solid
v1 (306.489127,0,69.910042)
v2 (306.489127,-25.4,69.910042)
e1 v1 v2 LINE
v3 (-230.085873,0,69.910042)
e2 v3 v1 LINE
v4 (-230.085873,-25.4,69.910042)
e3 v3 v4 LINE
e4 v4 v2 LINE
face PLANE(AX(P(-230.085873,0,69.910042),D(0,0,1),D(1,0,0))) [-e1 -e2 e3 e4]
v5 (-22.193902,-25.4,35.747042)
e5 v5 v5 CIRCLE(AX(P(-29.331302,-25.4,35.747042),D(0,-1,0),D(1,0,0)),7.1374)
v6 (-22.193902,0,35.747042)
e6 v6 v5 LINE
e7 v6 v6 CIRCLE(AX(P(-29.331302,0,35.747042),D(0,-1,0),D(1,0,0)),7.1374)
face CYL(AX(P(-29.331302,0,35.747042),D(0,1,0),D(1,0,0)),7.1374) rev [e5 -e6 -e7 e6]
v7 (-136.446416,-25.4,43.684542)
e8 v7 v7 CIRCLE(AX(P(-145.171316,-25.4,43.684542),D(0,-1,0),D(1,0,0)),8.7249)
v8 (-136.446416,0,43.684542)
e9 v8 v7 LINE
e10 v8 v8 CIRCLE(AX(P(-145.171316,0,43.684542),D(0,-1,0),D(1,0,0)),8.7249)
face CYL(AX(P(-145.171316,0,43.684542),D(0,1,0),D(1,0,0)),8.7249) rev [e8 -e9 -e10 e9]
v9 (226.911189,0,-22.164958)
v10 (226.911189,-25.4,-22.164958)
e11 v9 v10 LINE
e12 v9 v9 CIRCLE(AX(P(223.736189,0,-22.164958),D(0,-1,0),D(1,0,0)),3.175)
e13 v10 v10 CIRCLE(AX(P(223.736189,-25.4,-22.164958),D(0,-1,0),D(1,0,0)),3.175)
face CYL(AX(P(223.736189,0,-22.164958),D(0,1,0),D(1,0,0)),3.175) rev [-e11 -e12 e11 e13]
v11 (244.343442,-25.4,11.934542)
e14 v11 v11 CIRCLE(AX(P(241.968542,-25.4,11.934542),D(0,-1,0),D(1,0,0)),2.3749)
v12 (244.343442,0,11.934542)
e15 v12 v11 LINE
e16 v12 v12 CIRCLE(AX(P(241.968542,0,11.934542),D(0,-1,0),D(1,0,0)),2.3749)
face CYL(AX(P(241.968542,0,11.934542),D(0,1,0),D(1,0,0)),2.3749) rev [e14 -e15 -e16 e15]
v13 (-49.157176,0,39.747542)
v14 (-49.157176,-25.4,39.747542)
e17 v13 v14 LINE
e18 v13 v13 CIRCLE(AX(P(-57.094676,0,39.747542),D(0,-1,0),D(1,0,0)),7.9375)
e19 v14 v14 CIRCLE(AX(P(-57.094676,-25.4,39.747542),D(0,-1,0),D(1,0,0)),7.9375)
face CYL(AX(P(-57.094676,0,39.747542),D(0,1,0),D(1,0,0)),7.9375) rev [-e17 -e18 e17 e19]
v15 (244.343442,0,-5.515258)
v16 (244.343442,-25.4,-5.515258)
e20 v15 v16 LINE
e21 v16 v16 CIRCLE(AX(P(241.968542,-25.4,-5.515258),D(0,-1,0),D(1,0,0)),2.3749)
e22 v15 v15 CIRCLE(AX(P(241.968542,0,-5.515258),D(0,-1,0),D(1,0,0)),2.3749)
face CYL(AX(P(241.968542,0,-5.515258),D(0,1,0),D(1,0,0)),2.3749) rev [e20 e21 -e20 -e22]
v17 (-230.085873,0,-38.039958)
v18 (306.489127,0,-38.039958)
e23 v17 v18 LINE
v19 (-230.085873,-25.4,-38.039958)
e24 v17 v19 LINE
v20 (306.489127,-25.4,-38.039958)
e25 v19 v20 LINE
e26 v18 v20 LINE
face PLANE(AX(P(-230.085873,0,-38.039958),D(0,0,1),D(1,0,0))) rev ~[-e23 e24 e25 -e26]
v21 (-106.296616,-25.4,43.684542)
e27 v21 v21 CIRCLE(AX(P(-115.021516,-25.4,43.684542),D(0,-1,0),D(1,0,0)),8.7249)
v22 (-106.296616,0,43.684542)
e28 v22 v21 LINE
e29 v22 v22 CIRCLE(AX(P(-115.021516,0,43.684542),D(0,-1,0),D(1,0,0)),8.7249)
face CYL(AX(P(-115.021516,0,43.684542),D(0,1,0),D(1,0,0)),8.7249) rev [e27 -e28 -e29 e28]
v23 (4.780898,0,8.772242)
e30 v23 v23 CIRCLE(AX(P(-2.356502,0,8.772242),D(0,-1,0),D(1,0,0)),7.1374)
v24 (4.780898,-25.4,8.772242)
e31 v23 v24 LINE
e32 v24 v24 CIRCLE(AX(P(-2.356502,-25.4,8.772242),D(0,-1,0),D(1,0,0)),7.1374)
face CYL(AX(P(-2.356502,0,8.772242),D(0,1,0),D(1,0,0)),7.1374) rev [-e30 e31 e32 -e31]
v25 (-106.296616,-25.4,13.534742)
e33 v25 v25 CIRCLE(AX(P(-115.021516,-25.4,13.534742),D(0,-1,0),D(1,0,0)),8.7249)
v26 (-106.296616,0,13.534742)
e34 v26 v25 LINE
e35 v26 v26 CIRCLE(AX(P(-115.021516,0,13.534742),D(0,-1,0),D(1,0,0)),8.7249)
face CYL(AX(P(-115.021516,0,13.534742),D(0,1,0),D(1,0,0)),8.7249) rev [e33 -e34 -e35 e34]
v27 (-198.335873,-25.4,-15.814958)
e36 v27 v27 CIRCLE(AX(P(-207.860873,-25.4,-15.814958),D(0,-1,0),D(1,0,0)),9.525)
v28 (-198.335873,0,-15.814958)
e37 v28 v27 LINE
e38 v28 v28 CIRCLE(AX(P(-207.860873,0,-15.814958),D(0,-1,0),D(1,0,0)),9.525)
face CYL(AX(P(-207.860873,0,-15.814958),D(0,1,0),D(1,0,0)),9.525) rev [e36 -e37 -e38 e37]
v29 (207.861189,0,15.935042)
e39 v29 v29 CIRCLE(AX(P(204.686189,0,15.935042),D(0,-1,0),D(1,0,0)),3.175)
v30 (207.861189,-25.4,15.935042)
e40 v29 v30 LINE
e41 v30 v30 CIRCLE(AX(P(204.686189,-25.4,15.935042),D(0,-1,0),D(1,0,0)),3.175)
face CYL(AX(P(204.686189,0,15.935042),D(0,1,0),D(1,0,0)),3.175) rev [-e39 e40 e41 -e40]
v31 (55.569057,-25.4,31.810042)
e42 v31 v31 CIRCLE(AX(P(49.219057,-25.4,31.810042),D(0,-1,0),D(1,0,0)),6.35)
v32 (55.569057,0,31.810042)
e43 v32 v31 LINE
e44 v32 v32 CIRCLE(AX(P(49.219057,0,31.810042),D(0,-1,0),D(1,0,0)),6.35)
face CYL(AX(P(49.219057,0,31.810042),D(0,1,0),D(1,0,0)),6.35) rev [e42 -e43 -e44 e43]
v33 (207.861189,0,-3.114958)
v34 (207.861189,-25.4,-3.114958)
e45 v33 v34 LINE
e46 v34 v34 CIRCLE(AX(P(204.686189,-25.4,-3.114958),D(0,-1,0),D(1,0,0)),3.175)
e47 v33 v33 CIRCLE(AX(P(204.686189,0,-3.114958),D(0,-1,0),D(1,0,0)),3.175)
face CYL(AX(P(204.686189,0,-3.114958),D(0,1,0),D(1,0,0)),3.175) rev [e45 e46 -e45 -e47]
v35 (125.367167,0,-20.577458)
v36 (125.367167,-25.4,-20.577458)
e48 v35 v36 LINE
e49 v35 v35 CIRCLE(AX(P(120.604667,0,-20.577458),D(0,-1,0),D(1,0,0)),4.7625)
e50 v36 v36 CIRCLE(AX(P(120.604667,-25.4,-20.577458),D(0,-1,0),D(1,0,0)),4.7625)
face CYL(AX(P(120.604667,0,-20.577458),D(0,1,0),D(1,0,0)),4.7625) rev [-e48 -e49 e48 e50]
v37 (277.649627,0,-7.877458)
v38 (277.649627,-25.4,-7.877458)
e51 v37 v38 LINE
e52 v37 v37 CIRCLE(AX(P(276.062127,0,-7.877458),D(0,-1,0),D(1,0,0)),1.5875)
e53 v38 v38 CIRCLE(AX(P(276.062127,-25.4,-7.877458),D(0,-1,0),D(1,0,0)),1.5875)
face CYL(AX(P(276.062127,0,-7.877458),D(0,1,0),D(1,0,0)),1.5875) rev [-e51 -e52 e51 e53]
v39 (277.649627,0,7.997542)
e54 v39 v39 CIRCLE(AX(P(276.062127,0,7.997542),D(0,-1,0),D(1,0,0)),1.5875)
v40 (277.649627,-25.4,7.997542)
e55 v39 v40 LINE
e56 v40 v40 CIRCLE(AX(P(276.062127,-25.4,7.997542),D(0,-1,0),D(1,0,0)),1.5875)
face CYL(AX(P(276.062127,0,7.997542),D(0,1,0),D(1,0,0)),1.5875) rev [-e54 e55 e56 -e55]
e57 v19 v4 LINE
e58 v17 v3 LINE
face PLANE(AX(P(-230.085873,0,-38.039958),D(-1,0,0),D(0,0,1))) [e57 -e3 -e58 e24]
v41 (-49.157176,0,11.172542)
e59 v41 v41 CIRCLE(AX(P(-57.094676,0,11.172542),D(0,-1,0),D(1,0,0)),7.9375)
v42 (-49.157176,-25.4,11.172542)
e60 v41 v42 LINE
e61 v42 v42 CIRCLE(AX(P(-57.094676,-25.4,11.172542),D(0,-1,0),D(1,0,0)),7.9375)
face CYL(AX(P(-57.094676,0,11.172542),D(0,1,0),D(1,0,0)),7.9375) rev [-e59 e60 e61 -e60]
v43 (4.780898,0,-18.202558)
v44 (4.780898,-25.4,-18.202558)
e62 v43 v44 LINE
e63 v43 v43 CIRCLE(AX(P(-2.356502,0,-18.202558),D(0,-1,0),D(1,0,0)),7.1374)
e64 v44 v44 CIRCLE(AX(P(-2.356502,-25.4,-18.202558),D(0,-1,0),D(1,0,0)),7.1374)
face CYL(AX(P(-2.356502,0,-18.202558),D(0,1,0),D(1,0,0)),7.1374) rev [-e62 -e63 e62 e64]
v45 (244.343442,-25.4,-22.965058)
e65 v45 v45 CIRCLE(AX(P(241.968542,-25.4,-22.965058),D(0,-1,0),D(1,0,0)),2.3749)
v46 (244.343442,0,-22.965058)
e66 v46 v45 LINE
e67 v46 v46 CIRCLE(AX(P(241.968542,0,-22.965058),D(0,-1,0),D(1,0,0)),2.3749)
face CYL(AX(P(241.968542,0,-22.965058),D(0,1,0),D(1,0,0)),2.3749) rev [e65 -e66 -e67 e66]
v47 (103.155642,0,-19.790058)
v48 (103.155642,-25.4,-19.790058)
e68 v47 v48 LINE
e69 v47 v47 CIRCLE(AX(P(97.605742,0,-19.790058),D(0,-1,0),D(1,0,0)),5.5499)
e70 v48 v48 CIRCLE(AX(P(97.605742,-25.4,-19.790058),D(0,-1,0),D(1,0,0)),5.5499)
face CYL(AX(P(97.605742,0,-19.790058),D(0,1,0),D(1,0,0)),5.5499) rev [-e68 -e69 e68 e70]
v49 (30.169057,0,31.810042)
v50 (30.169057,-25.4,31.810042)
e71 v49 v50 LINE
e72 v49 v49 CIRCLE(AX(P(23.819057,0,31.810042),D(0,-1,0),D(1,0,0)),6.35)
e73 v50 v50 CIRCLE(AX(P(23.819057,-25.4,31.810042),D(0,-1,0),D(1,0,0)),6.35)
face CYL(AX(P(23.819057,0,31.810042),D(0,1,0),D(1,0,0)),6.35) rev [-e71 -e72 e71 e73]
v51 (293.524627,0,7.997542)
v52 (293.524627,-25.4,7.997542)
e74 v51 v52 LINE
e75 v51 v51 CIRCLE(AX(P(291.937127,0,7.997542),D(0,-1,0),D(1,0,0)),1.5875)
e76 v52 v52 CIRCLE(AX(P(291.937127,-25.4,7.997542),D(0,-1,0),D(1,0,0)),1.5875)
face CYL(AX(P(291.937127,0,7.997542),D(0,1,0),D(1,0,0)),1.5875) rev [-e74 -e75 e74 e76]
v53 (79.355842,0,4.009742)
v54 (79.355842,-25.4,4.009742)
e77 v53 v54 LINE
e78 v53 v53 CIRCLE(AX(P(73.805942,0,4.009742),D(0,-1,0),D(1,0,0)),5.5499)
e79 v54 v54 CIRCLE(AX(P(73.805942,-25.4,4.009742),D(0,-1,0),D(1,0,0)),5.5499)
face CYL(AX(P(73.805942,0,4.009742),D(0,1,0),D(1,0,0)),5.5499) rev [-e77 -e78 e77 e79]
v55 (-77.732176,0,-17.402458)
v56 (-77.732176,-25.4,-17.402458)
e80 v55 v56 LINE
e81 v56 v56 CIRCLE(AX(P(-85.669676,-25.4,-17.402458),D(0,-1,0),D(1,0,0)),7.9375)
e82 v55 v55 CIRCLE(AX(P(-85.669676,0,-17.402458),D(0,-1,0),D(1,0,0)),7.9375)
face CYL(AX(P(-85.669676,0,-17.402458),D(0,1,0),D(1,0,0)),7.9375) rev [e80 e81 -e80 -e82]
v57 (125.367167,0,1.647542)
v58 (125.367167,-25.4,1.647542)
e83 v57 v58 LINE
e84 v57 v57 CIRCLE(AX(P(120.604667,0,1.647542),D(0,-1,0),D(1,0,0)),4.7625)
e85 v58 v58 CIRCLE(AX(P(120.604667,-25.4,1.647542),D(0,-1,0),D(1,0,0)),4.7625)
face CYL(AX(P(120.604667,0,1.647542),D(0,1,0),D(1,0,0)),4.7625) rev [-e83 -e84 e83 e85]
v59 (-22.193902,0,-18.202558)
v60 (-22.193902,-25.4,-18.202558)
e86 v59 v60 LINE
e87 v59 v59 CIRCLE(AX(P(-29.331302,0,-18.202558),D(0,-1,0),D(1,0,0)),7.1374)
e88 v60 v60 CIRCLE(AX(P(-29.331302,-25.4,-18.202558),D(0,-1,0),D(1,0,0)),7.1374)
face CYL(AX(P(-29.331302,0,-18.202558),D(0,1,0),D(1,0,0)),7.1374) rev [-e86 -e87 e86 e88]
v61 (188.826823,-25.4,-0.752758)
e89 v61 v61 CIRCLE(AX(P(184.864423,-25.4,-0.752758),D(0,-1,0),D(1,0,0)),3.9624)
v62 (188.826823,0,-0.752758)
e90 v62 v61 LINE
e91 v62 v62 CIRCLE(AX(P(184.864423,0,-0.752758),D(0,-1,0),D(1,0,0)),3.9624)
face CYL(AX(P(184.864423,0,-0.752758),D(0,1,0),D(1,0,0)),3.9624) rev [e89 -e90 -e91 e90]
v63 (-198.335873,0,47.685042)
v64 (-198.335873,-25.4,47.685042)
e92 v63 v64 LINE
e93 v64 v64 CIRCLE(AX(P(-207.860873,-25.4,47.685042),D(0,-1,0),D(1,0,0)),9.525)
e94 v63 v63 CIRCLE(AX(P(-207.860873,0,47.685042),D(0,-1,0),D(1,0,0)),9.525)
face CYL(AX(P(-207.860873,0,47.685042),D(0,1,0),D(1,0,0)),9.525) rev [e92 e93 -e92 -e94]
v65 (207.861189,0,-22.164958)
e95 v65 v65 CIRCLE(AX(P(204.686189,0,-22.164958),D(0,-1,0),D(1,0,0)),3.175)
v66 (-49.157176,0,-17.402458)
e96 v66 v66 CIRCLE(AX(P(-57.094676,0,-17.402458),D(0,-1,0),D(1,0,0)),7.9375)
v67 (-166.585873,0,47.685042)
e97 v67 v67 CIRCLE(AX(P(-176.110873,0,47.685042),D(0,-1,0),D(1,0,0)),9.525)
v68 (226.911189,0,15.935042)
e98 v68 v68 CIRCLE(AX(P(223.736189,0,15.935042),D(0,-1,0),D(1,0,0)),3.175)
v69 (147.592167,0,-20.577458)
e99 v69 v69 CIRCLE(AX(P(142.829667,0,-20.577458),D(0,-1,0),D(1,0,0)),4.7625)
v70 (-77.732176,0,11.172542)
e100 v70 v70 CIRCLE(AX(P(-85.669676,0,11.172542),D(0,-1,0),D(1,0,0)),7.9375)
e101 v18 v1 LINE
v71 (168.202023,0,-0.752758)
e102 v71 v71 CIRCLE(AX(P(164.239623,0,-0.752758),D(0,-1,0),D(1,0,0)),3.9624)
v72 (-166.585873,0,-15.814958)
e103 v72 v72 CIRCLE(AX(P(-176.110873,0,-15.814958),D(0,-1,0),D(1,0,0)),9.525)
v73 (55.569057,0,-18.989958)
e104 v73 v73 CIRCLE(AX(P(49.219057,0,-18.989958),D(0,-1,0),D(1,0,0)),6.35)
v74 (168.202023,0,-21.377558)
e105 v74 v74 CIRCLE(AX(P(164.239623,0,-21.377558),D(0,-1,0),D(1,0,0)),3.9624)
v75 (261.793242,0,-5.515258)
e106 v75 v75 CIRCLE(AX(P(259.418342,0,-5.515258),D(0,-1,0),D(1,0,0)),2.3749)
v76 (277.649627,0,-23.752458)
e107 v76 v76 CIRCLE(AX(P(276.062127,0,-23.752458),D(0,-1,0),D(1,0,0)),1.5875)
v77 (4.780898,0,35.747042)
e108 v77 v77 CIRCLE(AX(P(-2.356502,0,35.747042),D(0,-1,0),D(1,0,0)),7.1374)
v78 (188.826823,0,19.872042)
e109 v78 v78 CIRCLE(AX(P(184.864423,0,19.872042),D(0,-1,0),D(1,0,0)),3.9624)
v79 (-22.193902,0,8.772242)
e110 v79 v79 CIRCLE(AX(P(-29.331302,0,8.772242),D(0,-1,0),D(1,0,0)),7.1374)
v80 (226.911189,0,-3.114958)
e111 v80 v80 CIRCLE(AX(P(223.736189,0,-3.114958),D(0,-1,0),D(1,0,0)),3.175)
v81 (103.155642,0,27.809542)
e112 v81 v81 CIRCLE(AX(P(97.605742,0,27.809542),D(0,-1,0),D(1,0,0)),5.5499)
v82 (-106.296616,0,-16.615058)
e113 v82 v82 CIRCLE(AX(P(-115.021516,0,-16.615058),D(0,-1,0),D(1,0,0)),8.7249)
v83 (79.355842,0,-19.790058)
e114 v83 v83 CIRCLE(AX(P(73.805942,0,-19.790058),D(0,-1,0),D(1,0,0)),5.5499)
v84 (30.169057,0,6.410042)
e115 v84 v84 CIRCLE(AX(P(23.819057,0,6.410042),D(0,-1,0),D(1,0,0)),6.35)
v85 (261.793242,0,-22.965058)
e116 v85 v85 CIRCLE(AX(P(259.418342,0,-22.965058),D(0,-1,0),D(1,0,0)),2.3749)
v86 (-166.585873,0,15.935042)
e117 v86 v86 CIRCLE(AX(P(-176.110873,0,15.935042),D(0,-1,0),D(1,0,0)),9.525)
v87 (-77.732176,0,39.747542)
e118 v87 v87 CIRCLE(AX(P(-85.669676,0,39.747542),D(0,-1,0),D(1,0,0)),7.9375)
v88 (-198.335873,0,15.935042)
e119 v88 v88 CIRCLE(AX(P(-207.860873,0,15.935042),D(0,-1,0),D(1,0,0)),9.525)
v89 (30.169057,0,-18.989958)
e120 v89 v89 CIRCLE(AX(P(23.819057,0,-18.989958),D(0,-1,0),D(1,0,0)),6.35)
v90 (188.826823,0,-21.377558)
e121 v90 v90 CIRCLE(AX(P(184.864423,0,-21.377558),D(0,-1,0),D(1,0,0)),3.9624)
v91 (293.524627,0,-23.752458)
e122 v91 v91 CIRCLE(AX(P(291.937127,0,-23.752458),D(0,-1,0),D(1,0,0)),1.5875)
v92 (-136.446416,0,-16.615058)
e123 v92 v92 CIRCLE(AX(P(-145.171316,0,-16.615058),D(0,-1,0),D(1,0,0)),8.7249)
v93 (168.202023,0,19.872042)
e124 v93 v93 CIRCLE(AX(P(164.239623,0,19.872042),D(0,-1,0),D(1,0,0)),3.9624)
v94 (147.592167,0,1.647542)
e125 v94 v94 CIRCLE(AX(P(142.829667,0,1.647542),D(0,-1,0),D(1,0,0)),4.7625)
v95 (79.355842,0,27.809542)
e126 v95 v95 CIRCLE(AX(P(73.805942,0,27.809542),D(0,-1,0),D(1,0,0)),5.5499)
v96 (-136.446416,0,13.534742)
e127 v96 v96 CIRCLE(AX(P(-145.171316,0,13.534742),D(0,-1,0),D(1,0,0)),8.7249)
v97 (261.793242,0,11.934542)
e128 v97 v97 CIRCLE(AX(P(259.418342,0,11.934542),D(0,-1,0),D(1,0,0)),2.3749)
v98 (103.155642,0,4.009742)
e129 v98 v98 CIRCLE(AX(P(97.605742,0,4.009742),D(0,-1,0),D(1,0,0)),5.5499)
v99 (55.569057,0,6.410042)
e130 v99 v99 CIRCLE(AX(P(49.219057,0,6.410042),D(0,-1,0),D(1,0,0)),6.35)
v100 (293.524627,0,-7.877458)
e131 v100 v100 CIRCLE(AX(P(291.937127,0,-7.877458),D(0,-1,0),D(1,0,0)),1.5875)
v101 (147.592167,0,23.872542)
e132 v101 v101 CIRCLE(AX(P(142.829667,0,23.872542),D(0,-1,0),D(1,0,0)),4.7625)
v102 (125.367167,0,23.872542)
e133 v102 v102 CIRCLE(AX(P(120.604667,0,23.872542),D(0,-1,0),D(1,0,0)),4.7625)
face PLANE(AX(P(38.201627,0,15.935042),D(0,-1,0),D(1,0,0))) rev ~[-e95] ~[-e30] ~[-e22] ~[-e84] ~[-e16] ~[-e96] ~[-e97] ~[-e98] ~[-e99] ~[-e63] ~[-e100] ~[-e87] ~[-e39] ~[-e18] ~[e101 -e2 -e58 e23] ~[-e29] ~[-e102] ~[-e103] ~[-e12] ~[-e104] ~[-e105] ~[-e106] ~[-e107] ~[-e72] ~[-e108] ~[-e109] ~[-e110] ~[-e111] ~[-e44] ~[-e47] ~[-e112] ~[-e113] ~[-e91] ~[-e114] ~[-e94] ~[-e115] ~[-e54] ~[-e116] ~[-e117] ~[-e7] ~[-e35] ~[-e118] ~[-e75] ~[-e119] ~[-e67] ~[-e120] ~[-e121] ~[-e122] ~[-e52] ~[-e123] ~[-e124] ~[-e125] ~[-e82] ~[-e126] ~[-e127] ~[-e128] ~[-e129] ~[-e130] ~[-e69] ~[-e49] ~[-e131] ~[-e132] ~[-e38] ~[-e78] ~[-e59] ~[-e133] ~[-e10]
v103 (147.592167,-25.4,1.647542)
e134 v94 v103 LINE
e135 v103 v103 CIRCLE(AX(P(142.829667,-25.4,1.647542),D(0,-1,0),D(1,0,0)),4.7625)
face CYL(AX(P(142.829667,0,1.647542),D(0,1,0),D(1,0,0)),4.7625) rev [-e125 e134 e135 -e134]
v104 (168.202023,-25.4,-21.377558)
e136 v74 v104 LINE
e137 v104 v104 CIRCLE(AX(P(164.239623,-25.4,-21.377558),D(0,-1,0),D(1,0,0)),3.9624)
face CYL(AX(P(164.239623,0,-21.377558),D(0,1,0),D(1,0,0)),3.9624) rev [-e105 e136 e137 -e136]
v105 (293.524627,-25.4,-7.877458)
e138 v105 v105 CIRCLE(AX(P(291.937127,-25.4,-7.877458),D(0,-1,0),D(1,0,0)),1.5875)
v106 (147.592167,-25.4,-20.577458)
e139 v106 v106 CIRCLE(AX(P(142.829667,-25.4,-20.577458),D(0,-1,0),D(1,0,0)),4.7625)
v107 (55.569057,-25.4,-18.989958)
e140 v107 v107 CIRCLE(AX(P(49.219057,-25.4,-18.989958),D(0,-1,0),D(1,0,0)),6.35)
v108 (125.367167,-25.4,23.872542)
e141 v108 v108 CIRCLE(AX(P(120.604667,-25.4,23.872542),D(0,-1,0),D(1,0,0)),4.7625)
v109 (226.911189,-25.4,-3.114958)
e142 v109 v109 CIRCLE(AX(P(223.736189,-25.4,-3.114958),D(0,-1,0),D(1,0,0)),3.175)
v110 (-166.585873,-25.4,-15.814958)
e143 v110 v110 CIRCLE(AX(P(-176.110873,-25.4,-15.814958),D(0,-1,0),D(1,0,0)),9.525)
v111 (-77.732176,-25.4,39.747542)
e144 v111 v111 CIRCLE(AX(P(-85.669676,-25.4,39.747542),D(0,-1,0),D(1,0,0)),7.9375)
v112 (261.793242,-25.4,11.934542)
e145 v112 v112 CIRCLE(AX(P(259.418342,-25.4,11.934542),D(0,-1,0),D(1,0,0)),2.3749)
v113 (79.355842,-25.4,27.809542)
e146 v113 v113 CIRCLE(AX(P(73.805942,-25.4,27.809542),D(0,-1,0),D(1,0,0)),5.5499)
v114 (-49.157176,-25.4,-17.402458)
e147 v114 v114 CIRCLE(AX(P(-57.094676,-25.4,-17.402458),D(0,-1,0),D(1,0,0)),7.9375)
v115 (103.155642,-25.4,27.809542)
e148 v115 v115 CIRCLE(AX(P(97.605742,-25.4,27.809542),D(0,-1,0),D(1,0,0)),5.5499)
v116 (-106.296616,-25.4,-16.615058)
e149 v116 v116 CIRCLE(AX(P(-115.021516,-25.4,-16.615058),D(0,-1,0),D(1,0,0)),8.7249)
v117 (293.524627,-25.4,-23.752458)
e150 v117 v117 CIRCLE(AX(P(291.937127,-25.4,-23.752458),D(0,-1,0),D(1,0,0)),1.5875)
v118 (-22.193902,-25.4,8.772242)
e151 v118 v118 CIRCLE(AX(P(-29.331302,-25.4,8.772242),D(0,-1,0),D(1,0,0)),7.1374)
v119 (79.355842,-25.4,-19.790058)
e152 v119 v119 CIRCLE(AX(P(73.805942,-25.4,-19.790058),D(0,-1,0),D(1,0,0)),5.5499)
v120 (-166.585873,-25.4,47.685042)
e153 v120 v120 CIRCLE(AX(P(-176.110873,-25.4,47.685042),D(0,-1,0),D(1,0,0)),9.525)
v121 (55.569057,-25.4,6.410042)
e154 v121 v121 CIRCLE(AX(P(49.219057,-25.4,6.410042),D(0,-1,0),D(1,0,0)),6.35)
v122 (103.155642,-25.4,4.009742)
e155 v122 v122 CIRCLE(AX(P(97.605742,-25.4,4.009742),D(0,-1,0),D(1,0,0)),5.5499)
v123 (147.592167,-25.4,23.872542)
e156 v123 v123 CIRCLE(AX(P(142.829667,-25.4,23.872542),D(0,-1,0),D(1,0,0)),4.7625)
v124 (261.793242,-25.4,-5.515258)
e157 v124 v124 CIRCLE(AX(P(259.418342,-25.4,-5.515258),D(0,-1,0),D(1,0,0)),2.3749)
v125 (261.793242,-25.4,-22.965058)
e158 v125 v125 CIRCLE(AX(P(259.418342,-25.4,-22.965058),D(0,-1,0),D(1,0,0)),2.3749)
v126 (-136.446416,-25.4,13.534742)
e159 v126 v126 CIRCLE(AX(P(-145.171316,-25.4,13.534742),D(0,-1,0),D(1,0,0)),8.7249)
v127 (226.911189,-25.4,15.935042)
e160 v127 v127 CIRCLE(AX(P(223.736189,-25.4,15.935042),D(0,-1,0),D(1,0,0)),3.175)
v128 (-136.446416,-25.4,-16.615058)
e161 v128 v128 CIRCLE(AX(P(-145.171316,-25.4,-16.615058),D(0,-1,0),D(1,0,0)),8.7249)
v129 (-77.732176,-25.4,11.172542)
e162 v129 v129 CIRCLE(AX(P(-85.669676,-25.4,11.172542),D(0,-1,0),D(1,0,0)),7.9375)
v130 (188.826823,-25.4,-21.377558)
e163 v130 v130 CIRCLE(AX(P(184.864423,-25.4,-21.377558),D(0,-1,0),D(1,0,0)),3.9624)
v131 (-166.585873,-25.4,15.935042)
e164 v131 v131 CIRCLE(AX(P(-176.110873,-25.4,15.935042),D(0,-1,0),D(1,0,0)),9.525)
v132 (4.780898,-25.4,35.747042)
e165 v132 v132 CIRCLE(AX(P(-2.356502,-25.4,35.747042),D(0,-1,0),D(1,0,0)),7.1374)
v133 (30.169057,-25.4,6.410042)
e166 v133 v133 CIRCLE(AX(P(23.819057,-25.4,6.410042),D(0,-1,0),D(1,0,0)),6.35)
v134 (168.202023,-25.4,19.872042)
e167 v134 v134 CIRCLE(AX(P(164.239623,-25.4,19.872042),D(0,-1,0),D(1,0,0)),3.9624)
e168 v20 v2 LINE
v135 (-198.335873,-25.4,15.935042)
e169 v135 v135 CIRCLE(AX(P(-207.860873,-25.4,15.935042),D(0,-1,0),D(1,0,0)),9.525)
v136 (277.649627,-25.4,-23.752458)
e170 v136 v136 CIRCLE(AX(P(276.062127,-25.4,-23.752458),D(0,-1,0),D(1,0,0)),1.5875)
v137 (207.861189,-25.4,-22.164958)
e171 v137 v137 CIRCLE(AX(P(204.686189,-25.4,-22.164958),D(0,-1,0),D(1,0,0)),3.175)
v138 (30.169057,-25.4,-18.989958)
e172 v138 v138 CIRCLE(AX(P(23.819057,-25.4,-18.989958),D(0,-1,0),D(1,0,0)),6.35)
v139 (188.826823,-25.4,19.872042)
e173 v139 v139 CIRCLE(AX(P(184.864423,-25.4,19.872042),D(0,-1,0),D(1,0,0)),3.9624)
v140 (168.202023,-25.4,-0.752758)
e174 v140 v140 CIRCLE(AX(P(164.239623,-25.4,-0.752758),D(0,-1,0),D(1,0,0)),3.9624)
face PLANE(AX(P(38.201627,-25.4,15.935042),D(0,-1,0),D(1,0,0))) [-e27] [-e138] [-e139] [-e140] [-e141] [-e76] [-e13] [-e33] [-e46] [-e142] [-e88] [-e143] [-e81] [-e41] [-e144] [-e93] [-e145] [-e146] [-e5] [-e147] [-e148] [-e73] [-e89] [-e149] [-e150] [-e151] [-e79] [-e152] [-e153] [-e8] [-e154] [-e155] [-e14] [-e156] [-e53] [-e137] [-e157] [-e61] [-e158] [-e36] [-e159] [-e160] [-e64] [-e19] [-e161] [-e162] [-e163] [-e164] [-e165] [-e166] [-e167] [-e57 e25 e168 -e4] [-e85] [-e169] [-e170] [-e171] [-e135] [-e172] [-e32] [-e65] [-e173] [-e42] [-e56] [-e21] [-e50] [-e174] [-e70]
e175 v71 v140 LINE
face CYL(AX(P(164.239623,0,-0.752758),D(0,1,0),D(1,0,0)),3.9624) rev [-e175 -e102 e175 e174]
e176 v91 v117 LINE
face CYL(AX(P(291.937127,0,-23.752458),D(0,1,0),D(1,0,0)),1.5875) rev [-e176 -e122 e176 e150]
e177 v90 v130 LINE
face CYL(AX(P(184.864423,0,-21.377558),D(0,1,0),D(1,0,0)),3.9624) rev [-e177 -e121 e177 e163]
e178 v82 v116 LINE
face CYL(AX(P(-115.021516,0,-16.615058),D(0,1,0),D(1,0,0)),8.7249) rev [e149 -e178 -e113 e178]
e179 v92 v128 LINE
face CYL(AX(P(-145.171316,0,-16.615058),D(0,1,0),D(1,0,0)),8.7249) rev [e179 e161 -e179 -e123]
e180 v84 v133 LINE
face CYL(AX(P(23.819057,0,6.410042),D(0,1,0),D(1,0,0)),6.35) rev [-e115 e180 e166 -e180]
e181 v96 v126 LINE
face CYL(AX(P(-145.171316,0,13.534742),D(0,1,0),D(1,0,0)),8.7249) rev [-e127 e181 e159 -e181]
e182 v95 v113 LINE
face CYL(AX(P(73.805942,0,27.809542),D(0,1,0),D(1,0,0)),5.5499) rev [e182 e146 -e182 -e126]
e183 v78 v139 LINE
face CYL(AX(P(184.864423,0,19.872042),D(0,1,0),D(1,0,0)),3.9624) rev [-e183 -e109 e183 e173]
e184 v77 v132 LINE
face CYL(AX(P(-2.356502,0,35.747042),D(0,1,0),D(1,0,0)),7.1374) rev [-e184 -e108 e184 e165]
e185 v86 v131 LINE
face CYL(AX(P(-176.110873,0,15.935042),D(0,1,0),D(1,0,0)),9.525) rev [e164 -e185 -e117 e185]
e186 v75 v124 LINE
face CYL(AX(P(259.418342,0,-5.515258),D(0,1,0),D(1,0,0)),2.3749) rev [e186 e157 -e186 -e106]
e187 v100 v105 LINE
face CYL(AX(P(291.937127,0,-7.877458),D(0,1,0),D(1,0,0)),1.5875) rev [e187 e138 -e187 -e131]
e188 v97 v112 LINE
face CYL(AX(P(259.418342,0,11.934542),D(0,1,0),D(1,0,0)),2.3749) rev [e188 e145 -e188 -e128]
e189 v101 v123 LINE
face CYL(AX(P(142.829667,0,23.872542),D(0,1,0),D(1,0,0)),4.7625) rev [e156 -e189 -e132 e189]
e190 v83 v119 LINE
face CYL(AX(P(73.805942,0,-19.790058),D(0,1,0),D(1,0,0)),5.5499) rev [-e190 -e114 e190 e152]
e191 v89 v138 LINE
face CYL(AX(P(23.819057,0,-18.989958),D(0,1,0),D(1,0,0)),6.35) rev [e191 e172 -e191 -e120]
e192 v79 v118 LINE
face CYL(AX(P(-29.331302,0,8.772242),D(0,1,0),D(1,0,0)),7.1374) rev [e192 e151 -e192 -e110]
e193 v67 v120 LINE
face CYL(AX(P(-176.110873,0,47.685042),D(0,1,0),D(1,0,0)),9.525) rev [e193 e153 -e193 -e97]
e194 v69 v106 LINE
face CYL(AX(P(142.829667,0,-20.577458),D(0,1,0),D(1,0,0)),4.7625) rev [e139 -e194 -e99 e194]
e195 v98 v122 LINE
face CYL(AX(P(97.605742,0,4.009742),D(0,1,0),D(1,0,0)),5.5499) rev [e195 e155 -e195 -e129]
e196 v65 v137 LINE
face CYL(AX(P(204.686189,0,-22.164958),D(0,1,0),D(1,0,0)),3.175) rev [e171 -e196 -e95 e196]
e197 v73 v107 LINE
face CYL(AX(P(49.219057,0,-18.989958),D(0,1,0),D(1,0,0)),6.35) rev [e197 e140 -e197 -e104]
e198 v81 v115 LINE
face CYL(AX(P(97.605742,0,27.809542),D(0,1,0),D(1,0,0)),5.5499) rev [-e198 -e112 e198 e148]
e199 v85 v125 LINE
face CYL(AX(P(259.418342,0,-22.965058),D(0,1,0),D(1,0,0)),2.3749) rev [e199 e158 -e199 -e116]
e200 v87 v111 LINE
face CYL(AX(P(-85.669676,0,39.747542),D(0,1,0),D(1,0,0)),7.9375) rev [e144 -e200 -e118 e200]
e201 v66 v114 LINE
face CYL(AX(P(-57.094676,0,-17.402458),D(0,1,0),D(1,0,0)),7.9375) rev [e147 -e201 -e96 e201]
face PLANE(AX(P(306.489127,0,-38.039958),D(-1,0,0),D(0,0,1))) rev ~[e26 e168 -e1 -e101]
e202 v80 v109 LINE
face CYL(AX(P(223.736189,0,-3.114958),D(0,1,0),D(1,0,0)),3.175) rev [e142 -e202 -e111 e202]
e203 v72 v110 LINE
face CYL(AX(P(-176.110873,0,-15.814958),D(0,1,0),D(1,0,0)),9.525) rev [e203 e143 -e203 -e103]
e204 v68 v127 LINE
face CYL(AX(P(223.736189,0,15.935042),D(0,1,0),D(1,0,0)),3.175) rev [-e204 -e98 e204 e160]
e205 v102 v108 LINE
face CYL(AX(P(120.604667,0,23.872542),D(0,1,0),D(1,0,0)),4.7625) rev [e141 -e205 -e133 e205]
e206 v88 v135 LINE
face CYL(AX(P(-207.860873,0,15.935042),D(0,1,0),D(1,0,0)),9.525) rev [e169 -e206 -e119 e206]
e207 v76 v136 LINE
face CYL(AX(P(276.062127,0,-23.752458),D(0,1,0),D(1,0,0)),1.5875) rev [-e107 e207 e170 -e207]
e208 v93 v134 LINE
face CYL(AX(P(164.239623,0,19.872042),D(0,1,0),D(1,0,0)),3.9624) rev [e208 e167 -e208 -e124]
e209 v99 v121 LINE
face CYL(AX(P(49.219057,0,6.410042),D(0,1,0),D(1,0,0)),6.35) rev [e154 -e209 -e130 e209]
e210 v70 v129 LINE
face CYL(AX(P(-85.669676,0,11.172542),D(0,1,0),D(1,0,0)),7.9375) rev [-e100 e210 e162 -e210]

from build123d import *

# Parameters (mm, degrees)
F0_W     = 536.575
F0_H     = 107.95
F0_R     = 9.525
F0_R_2   = 8.7249
F0_R_3   = 7.1374
F0_R_4   = 7.9375
F0_R_5   = 6.35
F0_R_6   = 5.5499
F0_R_7   = 4.7625
F0_R_8   = 3.9624
F0_R_9   = 3.175
F0_R_10  = 2.3749
F0_R_11  = 1.5875
F1_DEPTH = 25.4


with BuildPart() as f1:
    # F0 (on Front) → F1 (new body)
    with BuildSketch(Plane.XZ):
        with Locations((38.201627, 15.935042)):
            Rectangle(F0_W, F0_H)
        with Locations((-207.860873, -15.814958)):
            Circle(F0_R, mode=Mode.SUBTRACT)
        with Locations((-176.110873, -15.814958)):
            Circle(F0_R, mode=Mode.SUBTRACT)
        with Locations((-145.171316, -16.615058)):
            Circle(F0_R_2, mode=Mode.SUBTRACT)
        with Locations((-115.021516, -16.615058)):
            Circle(F0_R_2, mode=Mode.SUBTRACT)
        with Locations((-29.331302, -18.202558)):
            Circle(F0_R_3, mode=Mode.SUBTRACT)
        with Locations((-85.669676, -17.402458)):
            Circle(F0_R_4, mode=Mode.SUBTRACT)
        with Locations((-57.094676, -17.402458)):
            Circle(F0_R_4, mode=Mode.SUBTRACT)
        with Locations((-2.356502, -18.202558)):
            Circle(F0_R_3, mode=Mode.SUBTRACT)
        with Locations((23.819057, -18.989958)):
            Circle(F0_R_5, mode=Mode.SUBTRACT)
        with Locations((-207.860873, 15.935042)):
            Circle(F0_R, mode=Mode.SUBTRACT)
        with Locations((-176.110873, 15.935042)):
            Circle(F0_R, mode=Mode.SUBTRACT)
        with Locations((-145.171316, 13.534742)):
            Circle(F0_R_2, mode=Mode.SUBTRACT)
        with Locations((-115.021516, 13.534742)):
            Circle(F0_R_2, mode=Mode.SUBTRACT)
        with Locations((-29.331302, 8.772242)):
            Circle(F0_R_3, mode=Mode.SUBTRACT)
        with Locations((-85.669676, 11.172542)):
            Circle(F0_R_4, mode=Mode.SUBTRACT)
        with Locations((-57.094676, 11.172542)):
            Circle(F0_R_4, mode=Mode.SUBTRACT)
        with Locations((-2.356502, 8.772242)):
            Circle(F0_R_3, mode=Mode.SUBTRACT)
        with Locations((23.819057, 6.410042)):
            Circle(F0_R_5, mode=Mode.SUBTRACT)
        with Locations((49.219057, -18.989958)):
            Circle(F0_R_5, mode=Mode.SUBTRACT)
        with Locations((73.805942, -19.790058)):
            Circle(F0_R_6, mode=Mode.SUBTRACT)
        with Locations((97.605742, -19.790058)):
            Circle(F0_R_6, mode=Mode.SUBTRACT)
        with Locations((120.604667, -20.577458)):
            Circle(F0_R_7, mode=Mode.SUBTRACT)
        with Locations((164.239623, -21.377558)):
            Circle(F0_R_8, mode=Mode.SUBTRACT)
        with Locations((142.829667, -20.577458)):
            Circle(F0_R_7, mode=Mode.SUBTRACT)
        with Locations((184.864423, -21.377558)):
            Circle(F0_R_8, mode=Mode.SUBTRACT)
        with Locations((204.686189, -22.164958)):
            Circle(F0_R_9, mode=Mode.SUBTRACT)
        with Locations((223.736189, -22.164958)):
            Circle(F0_R_9, mode=Mode.SUBTRACT)
        with Locations((241.968542, -22.965058)):
            Circle(F0_R_10, mode=Mode.SUBTRACT)
        with Locations((259.418342, -22.965058)):
            Circle(F0_R_10, mode=Mode.SUBTRACT)
        with Locations((276.062127, -23.752458)):
            Circle(F0_R_11, mode=Mode.SUBTRACT)
        with Locations((291.937127, -23.752458)):
            Circle(F0_R_11, mode=Mode.SUBTRACT)
        with Locations((120.604667, 1.647542)):
            Circle(F0_R_7, mode=Mode.SUBTRACT)
        with Locations((142.829667, 1.647542)):
            Circle(F0_R_7, mode=Mode.SUBTRACT)
        with Locations((164.239623, -0.752758)):
            Circle(F0_R_8, mode=Mode.SUBTRACT)
        with Locations((49.219057, 6.410042)):
            Circle(F0_R_5, mode=Mode.SUBTRACT)
        with Locations((73.805942, 4.009742)):
            Circle(F0_R_6, mode=Mode.SUBTRACT)
        with Locations((97.605742, 4.009742)):
            Circle(F0_R_6, mode=Mode.SUBTRACT)
        with Locations((204.686189, -3.114958)):
            Circle(F0_R_9, mode=Mode.SUBTRACT)
        with Locations((184.864423, -0.752758)):
            Circle(F0_R_8, mode=Mode.SUBTRACT)
        with Locations((223.736189, -3.114958)):
            Circle(F0_R_9, mode=Mode.SUBTRACT)
        with Locations((241.968542, -5.515258)):
            Circle(F0_R_10, mode=Mode.SUBTRACT)
        with Locations((259.418342, -5.515258)):
            Circle(F0_R_10, mode=Mode.SUBTRACT)
        with Locations((276.062127, -7.877458)):
            Circle(F0_R_11, mode=Mode.SUBTRACT)
        with Locations((291.937127, -7.877458)):
            Circle(F0_R_11, mode=Mode.SUBTRACT)
        with Locations((204.686189, 15.935042)):
            Circle(F0_R_9, mode=Mode.SUBTRACT)
        with Locations((223.736189, 15.935042)):
            Circle(F0_R_9, mode=Mode.SUBTRACT)
        with Locations((276.062127, 7.997542)):
            Circle(F0_R_11, mode=Mode.SUBTRACT)
        with Locations((291.937127, 7.997542)):
            Circle(F0_R_11, mode=Mode.SUBTRACT)
        with Locations((241.968542, 11.934542)):
            Circle(F0_R_10, mode=Mode.SUBTRACT)
        with Locations((259.418342, 11.934542)):
            Circle(F0_R_10, mode=Mode.SUBTRACT)
        with Locations((-29.331302, 35.747042)):
            Circle(F0_R_3, mode=Mode.SUBTRACT)
        with Locations((-85.669676, 39.747542)):
            Circle(F0_R_4, mode=Mode.SUBTRACT)
        with Locations((-57.094676, 39.747542)):
            Circle(F0_R_4, mode=Mode.SUBTRACT)
        with Locations((-2.356502, 35.747042)):
            Circle(F0_R_3, mode=Mode.SUBTRACT)
        with Locations((23.819057, 31.810042)):
            Circle(F0_R_5, mode=Mode.SUBTRACT)
        with Locations((-207.860873, 47.685042)):
            Circle(F0_R, mode=Mode.SUBTRACT)
        with Locations((-176.110873, 47.685042)):
            Circle(F0_R, mode=Mode.SUBTRACT)
        with Locations((-145.171316, 43.684542)):
            Circle(F0_R_2, mode=Mode.SUBTRACT)
        with Locations((-115.021516, 43.684542)):
            Circle(F0_R_2, mode=Mode.SUBTRACT)
        with Locations((73.805942, 27.809542)):
            Circle(F0_R_6, mode=Mode.SUBTRACT)
        with Locations((97.605742, 27.809542)):
            Circle(F0_R_6, mode=Mode.SUBTRACT)
        with Locations((164.239623, 19.872042)):
            Circle(F0_R_8, mode=Mode.SUBTRACT)
        with Locations((120.604667, 23.872542)):
            Circle(F0_R_7, mode=Mode.SUBTRACT)
        with Locations((142.829667, 23.872542)):
            Circle(F0_R_7, mode=Mode.SUBTRACT)
        with Locations((49.219057, 31.810042)):
            Circle(F0_R_5, mode=Mode.SUBTRACT)
        with Locations((184.864423, 19.872042)):
            Circle(F0_R_8, mode=Mode.SUBTRACT)
    extrude(amount=F1_DEPTH)


solid = f1.part
